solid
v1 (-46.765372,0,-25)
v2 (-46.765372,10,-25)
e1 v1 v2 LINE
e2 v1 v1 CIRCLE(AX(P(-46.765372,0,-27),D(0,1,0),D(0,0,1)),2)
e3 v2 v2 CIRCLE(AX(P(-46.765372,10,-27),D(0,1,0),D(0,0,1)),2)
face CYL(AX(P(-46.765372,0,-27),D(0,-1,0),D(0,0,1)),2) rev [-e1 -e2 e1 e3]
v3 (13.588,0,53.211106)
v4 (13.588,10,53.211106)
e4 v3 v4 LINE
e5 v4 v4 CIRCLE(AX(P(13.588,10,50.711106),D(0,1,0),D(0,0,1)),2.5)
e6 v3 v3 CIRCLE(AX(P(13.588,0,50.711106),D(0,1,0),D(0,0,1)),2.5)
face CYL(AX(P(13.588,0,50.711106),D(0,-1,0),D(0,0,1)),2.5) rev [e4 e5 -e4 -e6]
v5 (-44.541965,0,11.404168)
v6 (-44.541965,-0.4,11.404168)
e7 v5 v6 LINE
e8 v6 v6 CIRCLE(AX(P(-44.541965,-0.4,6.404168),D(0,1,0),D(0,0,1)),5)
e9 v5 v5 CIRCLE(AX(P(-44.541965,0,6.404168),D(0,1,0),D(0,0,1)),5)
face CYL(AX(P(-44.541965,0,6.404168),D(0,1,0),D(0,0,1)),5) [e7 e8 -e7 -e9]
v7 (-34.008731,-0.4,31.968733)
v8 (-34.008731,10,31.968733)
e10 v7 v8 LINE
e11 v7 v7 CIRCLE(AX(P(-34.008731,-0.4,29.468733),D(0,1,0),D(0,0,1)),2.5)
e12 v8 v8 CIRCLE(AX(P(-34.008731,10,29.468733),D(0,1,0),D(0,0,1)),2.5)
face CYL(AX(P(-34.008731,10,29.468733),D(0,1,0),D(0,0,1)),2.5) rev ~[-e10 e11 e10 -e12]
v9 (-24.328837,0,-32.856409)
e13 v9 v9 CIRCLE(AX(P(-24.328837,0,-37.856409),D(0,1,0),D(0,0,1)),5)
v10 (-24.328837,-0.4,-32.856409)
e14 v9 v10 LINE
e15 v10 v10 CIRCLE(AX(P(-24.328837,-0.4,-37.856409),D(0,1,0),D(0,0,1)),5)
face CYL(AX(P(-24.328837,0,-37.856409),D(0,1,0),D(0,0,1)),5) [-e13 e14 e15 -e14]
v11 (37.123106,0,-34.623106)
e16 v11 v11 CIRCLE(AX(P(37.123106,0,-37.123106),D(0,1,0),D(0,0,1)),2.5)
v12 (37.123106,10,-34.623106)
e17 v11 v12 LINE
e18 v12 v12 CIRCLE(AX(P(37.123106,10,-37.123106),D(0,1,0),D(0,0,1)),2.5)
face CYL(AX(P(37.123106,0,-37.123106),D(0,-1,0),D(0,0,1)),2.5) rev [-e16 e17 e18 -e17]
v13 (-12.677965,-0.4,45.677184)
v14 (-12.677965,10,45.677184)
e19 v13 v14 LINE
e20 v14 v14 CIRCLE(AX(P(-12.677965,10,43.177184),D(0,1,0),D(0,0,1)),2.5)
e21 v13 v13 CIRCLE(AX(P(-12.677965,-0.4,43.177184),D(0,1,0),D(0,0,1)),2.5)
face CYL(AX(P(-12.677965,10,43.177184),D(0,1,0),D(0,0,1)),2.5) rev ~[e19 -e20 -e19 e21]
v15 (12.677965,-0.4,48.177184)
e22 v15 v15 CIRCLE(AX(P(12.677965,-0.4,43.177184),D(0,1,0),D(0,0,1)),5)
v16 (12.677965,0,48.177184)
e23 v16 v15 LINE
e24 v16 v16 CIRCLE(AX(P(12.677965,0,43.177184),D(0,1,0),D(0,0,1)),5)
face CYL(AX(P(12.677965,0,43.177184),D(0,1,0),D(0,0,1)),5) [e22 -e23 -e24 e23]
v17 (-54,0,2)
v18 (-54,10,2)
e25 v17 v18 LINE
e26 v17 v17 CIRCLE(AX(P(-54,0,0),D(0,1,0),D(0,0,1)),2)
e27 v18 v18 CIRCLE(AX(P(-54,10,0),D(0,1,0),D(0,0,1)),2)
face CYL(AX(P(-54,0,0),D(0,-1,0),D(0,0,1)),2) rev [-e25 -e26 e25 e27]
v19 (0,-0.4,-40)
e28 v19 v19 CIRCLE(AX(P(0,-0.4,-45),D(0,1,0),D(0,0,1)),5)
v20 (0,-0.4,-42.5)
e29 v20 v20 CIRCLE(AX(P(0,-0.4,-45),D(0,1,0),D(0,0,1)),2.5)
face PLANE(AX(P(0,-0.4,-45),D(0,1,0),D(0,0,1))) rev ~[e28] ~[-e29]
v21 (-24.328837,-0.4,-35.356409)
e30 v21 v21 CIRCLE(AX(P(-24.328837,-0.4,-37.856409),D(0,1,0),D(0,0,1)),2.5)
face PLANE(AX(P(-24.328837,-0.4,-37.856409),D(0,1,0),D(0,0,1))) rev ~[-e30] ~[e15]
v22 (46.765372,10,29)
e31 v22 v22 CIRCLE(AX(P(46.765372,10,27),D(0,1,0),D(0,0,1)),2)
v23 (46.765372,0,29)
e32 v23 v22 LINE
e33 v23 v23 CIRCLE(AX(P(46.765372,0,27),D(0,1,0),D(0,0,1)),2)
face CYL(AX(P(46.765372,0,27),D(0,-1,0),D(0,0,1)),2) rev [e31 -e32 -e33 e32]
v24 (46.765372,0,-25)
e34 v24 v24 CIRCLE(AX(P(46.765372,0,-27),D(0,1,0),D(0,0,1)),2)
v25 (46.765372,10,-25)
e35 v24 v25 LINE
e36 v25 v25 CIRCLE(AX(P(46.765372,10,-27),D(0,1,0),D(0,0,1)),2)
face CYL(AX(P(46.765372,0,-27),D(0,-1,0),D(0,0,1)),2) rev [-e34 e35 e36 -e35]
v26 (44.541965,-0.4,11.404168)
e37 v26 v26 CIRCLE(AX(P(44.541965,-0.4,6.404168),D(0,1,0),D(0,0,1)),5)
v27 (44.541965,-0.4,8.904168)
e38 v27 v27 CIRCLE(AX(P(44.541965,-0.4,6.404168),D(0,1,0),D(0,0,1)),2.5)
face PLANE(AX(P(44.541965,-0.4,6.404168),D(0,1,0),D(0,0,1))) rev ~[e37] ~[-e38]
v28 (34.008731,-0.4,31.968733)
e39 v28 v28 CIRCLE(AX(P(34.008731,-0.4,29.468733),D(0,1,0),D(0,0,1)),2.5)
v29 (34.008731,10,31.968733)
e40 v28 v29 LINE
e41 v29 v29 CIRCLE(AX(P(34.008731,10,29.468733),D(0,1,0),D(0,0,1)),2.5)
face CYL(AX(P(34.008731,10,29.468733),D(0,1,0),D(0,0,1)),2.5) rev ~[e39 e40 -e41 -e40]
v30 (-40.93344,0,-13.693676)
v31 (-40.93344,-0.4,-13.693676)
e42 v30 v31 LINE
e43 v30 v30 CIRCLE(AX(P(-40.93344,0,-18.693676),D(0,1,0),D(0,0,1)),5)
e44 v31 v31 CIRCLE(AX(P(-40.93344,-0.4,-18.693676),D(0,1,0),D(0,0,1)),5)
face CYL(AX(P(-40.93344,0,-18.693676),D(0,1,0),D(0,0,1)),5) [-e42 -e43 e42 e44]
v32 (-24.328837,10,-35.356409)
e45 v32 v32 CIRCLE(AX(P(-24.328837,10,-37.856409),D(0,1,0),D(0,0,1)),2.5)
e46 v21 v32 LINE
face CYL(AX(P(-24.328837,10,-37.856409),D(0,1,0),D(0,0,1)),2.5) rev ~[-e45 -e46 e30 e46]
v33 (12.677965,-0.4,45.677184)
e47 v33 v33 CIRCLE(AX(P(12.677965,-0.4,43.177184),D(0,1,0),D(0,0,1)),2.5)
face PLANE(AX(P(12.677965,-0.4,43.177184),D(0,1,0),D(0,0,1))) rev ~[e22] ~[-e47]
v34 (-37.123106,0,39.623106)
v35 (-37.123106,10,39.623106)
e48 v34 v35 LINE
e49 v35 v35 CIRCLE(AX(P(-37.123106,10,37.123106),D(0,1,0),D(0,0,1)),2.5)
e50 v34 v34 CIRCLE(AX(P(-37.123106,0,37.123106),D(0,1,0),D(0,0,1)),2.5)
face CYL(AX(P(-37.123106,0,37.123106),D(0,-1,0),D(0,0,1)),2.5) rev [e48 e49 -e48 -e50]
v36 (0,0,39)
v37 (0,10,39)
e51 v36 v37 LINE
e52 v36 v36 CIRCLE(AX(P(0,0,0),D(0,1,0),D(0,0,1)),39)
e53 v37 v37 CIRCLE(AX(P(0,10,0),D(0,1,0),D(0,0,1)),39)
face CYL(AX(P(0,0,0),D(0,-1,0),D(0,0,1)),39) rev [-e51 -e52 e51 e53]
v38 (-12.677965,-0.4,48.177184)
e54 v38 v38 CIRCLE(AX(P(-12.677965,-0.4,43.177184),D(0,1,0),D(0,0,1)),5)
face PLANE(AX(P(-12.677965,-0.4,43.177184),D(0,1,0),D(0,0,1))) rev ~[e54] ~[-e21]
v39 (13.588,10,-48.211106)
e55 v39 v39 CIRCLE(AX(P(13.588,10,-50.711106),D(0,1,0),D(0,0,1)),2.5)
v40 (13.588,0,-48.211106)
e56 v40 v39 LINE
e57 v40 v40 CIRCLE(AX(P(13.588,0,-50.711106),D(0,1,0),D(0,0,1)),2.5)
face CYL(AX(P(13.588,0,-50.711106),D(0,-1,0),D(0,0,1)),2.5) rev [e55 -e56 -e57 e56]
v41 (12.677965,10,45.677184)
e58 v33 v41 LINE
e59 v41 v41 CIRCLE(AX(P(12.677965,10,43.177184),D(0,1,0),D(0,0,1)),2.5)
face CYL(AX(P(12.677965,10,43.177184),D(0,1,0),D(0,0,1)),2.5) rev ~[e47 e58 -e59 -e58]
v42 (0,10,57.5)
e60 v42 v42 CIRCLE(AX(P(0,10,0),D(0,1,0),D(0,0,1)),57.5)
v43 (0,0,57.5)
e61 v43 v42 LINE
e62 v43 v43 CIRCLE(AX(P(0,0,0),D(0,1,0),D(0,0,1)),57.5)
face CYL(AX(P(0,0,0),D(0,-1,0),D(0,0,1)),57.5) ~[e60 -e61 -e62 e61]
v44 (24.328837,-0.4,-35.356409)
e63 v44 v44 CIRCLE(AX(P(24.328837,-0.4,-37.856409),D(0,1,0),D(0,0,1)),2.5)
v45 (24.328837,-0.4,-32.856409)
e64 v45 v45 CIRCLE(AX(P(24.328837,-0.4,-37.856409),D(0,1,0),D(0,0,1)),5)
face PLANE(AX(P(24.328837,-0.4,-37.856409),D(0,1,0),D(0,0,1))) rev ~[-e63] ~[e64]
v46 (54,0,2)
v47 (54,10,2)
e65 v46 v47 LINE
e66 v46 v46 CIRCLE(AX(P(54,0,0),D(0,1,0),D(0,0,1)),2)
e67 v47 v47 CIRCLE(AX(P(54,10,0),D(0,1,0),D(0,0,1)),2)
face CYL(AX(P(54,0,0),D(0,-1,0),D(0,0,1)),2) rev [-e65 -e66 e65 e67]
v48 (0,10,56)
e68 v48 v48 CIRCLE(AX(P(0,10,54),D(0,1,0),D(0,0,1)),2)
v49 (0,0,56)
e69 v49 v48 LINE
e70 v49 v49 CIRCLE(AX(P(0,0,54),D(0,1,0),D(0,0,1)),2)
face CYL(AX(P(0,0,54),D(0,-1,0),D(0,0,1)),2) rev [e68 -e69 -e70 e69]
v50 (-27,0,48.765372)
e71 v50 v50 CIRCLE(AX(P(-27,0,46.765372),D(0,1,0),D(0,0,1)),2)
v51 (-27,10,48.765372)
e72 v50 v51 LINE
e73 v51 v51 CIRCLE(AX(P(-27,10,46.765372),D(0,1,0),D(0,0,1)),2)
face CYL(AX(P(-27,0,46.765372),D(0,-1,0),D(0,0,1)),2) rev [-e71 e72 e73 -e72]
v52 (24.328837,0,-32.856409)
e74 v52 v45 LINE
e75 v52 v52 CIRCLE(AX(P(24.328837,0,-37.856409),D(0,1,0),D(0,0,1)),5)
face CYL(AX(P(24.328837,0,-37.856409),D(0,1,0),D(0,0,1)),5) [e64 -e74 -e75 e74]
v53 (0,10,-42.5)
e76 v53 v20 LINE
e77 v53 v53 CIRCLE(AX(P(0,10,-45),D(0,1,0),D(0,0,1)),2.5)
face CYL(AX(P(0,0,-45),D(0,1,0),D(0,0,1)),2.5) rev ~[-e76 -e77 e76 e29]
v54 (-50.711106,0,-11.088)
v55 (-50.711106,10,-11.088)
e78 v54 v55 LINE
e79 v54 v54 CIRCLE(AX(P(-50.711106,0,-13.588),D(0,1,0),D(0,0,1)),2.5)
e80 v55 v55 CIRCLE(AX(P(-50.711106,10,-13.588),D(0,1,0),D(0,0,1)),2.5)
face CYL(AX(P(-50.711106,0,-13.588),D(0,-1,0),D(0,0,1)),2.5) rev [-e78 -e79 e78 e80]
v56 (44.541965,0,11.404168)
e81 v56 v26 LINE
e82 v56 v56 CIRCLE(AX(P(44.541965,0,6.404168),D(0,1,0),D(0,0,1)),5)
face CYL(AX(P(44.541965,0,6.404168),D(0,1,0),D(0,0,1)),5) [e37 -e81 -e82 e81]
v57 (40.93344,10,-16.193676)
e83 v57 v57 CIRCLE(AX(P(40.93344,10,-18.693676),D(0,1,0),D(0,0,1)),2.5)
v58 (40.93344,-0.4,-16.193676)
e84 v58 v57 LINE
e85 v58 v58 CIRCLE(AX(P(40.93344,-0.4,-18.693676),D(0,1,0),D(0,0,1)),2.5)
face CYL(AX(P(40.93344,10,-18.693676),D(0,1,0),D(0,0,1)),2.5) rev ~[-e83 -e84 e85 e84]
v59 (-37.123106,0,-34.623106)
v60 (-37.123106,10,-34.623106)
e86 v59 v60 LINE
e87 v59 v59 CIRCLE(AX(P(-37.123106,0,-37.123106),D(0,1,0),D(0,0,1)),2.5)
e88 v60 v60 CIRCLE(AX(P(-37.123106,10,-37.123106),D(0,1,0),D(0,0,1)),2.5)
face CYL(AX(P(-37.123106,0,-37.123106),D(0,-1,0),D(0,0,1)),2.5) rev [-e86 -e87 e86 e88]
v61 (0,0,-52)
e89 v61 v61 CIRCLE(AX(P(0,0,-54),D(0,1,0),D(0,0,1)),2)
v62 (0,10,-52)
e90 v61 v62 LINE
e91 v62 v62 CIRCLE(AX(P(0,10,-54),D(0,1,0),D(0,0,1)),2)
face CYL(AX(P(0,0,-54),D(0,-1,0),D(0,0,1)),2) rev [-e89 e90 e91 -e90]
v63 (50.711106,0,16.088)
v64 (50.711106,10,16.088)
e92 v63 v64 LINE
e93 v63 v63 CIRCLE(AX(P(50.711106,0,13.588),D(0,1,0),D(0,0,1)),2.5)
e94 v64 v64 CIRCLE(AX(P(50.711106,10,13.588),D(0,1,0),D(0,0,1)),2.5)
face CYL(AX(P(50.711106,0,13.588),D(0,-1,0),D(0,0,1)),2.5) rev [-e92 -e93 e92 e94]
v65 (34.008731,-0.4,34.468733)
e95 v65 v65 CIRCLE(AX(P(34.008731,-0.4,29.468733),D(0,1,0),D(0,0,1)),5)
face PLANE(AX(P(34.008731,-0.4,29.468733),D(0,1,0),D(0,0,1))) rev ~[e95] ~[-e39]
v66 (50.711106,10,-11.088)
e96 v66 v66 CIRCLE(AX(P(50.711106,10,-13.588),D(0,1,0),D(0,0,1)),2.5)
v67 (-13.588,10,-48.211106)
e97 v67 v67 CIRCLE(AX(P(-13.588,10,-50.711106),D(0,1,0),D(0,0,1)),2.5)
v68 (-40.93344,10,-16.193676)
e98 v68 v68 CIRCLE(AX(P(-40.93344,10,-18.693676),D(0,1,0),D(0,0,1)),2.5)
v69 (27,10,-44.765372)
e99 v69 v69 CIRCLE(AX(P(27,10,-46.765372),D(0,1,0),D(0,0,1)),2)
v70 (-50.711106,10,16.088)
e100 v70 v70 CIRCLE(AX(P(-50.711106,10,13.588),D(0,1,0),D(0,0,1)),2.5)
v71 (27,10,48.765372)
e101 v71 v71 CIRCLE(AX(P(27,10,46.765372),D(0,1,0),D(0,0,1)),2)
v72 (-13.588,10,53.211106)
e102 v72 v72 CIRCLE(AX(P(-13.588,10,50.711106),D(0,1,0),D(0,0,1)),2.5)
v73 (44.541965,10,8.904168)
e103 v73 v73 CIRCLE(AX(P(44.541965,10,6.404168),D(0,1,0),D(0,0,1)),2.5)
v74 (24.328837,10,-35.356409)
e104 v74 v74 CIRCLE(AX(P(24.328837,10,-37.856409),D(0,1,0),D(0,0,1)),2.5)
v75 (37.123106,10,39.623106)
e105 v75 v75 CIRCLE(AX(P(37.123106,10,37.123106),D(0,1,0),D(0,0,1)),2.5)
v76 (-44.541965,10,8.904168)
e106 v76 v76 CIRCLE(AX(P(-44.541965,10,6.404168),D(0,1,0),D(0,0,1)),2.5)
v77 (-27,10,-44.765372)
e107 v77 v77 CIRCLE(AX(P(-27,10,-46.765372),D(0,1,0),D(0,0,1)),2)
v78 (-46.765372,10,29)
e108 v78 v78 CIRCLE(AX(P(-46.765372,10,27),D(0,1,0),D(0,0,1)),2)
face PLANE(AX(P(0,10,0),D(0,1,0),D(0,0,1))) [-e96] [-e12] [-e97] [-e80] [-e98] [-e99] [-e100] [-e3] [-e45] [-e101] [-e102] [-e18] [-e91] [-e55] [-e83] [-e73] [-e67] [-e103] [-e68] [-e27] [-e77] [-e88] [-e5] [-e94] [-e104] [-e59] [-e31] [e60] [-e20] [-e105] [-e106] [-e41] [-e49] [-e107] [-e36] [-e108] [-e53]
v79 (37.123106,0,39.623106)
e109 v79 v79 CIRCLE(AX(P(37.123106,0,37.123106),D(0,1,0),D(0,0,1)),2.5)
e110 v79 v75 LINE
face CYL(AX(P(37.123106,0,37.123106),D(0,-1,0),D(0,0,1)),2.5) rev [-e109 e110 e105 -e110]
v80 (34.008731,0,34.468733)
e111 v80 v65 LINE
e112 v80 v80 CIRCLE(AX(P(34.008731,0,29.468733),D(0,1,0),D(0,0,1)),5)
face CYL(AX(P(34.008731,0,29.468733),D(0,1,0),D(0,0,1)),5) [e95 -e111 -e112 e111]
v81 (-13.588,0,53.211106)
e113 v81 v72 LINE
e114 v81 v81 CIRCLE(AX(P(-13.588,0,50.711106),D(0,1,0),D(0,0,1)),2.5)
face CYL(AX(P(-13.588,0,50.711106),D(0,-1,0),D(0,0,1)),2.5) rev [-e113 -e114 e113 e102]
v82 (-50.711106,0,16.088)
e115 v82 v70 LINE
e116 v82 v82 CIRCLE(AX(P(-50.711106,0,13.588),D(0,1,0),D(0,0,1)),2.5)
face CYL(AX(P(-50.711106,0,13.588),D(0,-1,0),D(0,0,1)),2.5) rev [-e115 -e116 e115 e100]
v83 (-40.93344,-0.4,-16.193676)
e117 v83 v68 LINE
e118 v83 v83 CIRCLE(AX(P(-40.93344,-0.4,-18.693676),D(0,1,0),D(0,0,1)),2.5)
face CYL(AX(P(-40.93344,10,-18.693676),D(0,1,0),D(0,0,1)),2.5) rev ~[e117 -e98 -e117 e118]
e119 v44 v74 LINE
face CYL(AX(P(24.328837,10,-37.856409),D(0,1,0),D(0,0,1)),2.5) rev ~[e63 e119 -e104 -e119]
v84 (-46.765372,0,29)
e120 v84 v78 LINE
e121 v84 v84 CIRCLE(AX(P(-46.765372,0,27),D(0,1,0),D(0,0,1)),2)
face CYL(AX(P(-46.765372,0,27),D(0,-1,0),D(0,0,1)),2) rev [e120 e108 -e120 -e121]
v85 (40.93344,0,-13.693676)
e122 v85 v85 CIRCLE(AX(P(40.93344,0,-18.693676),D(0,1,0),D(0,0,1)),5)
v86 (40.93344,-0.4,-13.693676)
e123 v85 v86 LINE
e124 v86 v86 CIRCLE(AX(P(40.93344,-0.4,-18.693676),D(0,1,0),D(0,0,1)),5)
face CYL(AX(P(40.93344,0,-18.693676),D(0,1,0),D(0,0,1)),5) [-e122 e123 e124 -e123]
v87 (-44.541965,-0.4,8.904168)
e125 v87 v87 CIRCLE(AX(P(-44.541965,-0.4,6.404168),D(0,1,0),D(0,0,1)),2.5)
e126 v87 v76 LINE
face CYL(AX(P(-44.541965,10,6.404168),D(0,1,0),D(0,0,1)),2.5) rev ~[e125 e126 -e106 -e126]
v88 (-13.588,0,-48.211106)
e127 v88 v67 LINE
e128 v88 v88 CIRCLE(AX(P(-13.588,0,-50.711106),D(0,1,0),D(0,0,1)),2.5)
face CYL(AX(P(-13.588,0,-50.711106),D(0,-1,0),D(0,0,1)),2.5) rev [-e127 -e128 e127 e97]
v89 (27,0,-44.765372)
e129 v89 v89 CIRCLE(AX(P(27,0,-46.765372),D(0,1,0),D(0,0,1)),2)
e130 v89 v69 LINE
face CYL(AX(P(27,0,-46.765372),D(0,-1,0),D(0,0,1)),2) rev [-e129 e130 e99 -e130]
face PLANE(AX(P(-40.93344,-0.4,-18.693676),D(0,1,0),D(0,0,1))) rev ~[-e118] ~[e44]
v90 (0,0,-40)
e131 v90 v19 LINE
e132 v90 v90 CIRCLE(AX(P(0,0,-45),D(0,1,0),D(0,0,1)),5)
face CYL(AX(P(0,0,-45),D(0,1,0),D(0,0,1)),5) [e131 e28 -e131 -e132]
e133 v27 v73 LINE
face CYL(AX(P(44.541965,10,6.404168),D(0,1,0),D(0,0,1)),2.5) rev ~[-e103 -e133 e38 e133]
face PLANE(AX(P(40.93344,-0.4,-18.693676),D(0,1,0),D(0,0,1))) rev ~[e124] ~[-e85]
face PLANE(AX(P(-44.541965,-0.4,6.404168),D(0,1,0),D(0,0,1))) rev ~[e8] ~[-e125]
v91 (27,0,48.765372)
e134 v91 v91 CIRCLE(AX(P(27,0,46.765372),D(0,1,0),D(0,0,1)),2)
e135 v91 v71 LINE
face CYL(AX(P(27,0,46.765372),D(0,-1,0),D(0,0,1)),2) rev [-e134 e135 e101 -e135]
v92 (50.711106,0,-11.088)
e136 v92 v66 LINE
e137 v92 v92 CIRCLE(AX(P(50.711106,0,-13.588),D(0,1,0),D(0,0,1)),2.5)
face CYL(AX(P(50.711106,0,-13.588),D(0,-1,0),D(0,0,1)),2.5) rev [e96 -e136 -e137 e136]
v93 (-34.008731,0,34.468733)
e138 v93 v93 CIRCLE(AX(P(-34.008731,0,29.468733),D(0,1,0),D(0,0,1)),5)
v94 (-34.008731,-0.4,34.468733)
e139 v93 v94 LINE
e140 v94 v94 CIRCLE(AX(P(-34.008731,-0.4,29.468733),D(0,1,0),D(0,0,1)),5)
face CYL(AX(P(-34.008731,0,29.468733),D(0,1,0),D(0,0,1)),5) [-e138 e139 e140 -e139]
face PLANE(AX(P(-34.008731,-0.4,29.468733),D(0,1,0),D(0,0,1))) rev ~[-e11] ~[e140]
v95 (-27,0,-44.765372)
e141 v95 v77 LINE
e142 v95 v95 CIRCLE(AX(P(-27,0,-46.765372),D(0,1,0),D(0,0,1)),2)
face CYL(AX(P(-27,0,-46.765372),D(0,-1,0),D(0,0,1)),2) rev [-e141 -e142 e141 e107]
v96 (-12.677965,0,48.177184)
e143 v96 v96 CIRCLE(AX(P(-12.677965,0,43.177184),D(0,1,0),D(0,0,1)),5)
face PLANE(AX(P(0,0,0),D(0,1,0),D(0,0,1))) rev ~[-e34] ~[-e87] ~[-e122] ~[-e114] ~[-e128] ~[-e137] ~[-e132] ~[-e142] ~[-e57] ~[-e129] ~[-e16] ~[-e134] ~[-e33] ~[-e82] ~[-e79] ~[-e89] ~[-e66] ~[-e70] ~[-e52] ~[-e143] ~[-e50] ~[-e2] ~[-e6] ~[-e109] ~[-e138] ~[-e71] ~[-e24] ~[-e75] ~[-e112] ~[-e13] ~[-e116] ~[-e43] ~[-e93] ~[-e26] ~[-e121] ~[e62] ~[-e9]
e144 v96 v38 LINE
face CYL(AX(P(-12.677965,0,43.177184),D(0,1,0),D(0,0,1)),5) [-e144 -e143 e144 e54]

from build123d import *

# Parameters (mm, degrees)
SKETCH1_R           = 57.5
SKETCH1_R_2         = 39
SKETCH1_R_3         = 2
SKETCH1_R_4         = 2.5
BOSS_EXTRUDE1_DEPTH = 10
SKETCH2_R           = 2.5
CUT_EXTRUDE1_DEPTH  = 10
SKETCH4_R           = 5
SKETCH4_R_2         = 2.5
BOSS_EXTRUDE3_DEPTH = 0.4


with BuildPart() as part:
    # Sketch1 → Boss-Extrude1 (new body)
    with BuildSketch(Plane(origin=(0, 0, 0), x_dir=(1, 0, 0), z_dir=(0, 1, 0))):
        with Locations(Location((0, 0, 0), (0, 0, 270))):
            Circle(SKETCH1_R)
        with Locations(Location((0, 0, 0), (0, 0, 270))):
            Circle(SKETCH1_R_2, mode=Mode.SUBTRACT)
        with Locations(Location((0, 54, 0), (0, 0, 270))):
            Circle(SKETCH1_R_3, mode=Mode.SUBTRACT)
        with Locations(Location((27, 46.765371804, 0), (0, 0, 270))):
            Circle(SKETCH1_R_3, mode=Mode.SUBTRACT)
        with Locations(Location((46.765371804, 27, 0), (0, 0, 270))):
            Circle(SKETCH1_R_3, mode=Mode.SUBTRACT)
        with Locations(Location((54, 0, 0), (0, 0, 270))):
            Circle(SKETCH1_R_3, mode=Mode.SUBTRACT)
        with Locations(Location((46.765371804, -27, 0), (0, 0, 270))):
            Circle(SKETCH1_R_3, mode=Mode.SUBTRACT)
        with Locations(Location((27, -46.765371804, 0), (0, 0, 270))):
            Circle(SKETCH1_R_3, mode=Mode.SUBTRACT)
        with Locations(Location((0, -54, 0), (0, 0, 270))):
            Circle(SKETCH1_R_3, mode=Mode.SUBTRACT)
        with Locations(Location((-27, -46.765371804, 0), (0, 0, 270))):
            Circle(SKETCH1_R_3, mode=Mode.SUBTRACT)
        with Locations(Location((-46.765371804, -27, 0), (0, 0, 270))):
            Circle(SKETCH1_R_3, mode=Mode.SUBTRACT)
        with Locations(Location((-54, 0, 0), (0, 0, 270))):
            Circle(SKETCH1_R_3, mode=Mode.SUBTRACT)
        with Locations(Location((-46.765371804, 27, 0), (0, 0, 270))):
            Circle(SKETCH1_R_3, mode=Mode.SUBTRACT)
        with Locations(Location((-27, 46.765371804, 0), (0, 0, 270))):
            Circle(SKETCH1_R_3, mode=Mode.SUBTRACT)
        with Locations(Location((13.587999868, 50.71110588, 0), (0, 0, 270))):
            Circle(SKETCH1_R_4, mode=Mode.SUBTRACT)
        with Locations(Location((37.123106012, 37.123106012, 0), (0, 0, 270))):
            Circle(SKETCH1_R_4, mode=Mode.SUBTRACT)
        with Locations(Location((50.71110588, 13.587999868, 0), (0, 0, 270))):
            Circle(SKETCH1_R_4, mode=Mode.SUBTRACT)
        with Locations(Location((50.71110588, -13.587999868, 0), (0, 0, 270))):
            Circle(SKETCH1_R_4, mode=Mode.SUBTRACT)
        with Locations(Location((37.123106012, -37.123106012, 0), (0, 0, 270))):
            Circle(SKETCH1_R_4, mode=Mode.SUBTRACT)
        with Locations(Location((13.587999868, -50.71110588, 0), (0, 0, 270))):
            Circle(SKETCH1_R_4, mode=Mode.SUBTRACT)
        with Locations(Location((-13.587999868, -50.71110588, 0), (0, 0, 270))):
            Circle(SKETCH1_R_4, mode=Mode.SUBTRACT)
        with Locations(Location((-37.123106012, -37.123106012, 0), (0, 0, 270))):
            Circle(SKETCH1_R_4, mode=Mode.SUBTRACT)
        with Locations(Location((-50.71110588, -13.587999868, 0), (0, 0, 270))):
            Circle(SKETCH1_R_4, mode=Mode.SUBTRACT)
        with Locations(Location((-50.71110588, 13.587999868, 0), (0, 0, 270))):
            Circle(SKETCH1_R_4, mode=Mode.SUBTRACT)
        with Locations(Location((-37.123106012, 37.123106012, 0), (0, 0, 270))):
            Circle(SKETCH1_R_4, mode=Mode.SUBTRACT)
        with Locations(Location((-13.587999868, 50.71110588, 0), (0, 0, 270))):
            Circle(SKETCH1_R_4, mode=Mode.SUBTRACT)
    extrude(amount=BOSS_EXTRUDE1_DEPTH)

    # Sketch2 → Cut-Extrude1 (cut)
    with BuildSketch(Plane(origin=(0, 10, 0), x_dir=(1, 0, 0), z_dir=(0, 1, 0))):
        with Locations(Location((0, 45, 0), (0, 0, 270))):
            Circle(SKETCH2_R)
        with Locations(Location((24.328836786, 37.856408977, 0), (0, 0, 270))):
            Circle(SKETCH2_R)
        with Locations(Location((40.933439791, 18.693675585, 0), (0, 0, 270))):
            Circle(SKETCH2_R)
        with Locations(Location((44.541964885, -6.404167722, 0), (0, 0, 270))):
            Circle(SKETCH2_R)
        with Locations(Location((34.008730846, -29.468733028, 0), (0, 0, 270))):
            Circle(SKETCH2_R)
        with Locations(Location((12.677965058, -43.177183813, 0), (0, 0, 270))):
            Circle(SKETCH2_R)
        with Locations(Location((-12.677965058, -43.177183813, 0), (0, 0, 270))):
            Circle(SKETCH2_R)
        with Locations(Location((-34.008730846, -29.468733028, 0), (0, 0, 270))):
            Circle(SKETCH2_R)
        with Locations(Location((-44.541964885, -6.404167722, 0), (0, 0, 270))):
            Circle(SKETCH2_R)
        with Locations(Location((-40.933439791, 18.693675585, 0), (0, 0, 270))):
            Circle(SKETCH2_R)
        with Locations(Location((-24.328836786, 37.856408977, 0), (0, 0, 270))):
            Circle(SKETCH2_R)
    extrude(amount=-CUT_EXTRUDE1_DEPTH, mode=Mode.SUBTRACT)

    # Sketch4 → Boss-Extrude3 (add)
    # profile 1 of 11: a face of its own
    with BuildSketch(Plane(origin=(0, 0, 0), x_dir=(1, 0, 0), z_dir=(0, 1, 0))):
        with Locations(Location((0, 45, 0), (0, 0, 270))):
            Circle(SKETCH4_R)
        with Locations(Location((0, 45, 0), (0, 0, 270))):
            Circle(SKETCH4_R_2, mode=Mode.SUBTRACT)
    # profile 2 of 11: a face of its own
    with BuildSketch(Plane(origin=(0, 0, 0), x_dir=(1, 0, 0), z_dir=(0, 1, 0))):
        with Locations(Location((24.328836786, 37.856408977, 0), (0, 0, 270))):
            Circle(SKETCH4_R)
        with Locations(Location((24.328836786, 37.856408977, 0), (0, 0, 270))):
            Circle(SKETCH4_R_2, mode=Mode.SUBTRACT)
    # profile 3 of 11: a face of its own
    with BuildSketch(Plane(origin=(0, 0, 0), x_dir=(1, 0, 0), z_dir=(0, 1, 0))):
        with Locations(Location((40.933439791, 18.693675585, 0), (0, 0, 270))):
            Circle(SKETCH4_R)
        with Locations(Location((40.933439791, 18.693675585, 0), (0, 0, 270))):
            Circle(SKETCH4_R_2, mode=Mode.SUBTRACT)
    # profile 4 of 11: a face of its own
    with BuildSketch(Plane(origin=(0, 0, 0), x_dir=(1, 0, 0), z_dir=(0, 1, 0))):
        with Locations(Location((44.541964885, -6.404167722, 0), (0, 0, 270))):
            Circle(SKETCH4_R)
        with Locations(Location((44.541964885, -6.404167722, 0), (0, 0, 270))):
            Circle(SKETCH4_R_2, mode=Mode.SUBTRACT)
    # profile 5 of 11: a face of its own
    with BuildSketch(Plane(origin=(0, 0, 0), x_dir=(1, 0, 0), z_dir=(0, 1, 0))):
        with Locations(Location((34.008730846, -29.468733028, 0), (0, 0, 270))):
            Circle(SKETCH4_R)
        with Locations(Location((34.008730846, -29.468733028, 0), (0, 0, 270))):
            Circle(SKETCH4_R_2, mode=Mode.SUBTRACT)
    # profile 6 of 11: a face of its own
    with BuildSketch(Plane(origin=(0, 0, 0), x_dir=(1, 0, 0), z_dir=(0, 1, 0))):
        with Locations(Location((12.677965058, -43.177183813, 0), (0, 0, 270))):
            Circle(SKETCH4_R)
        with Locations(Location((12.677965058, -43.177183813, 0), (0, 0, 270))):
            Circle(SKETCH4_R_2, mode=Mode.SUBTRACT)
    # profile 7 of 11: a face of its own
    with BuildSketch(Plane(origin=(0, 0, 0), x_dir=(1, 0, 0), z_dir=(0, 1, 0))):
        with Locations(Location((-12.677965058, -43.177183813, 0), (0, 0, 270))):
            Circle(SKETCH4_R)
        with Locations(Location((-12.677965058, -43.177183813, 0), (0, 0, 270))):
            Circle(SKETCH4_R_2, mode=Mode.SUBTRACT)
    # profile 8 of 11: a face of its own
    with BuildSketch(Plane(origin=(0, 0, 0), x_dir=(1, 0, 0), z_dir=(0, 1, 0))):
        with Locations(Location((-34.008730846, -29.468733028, 0), (0, 0, 270))):
            Circle(SKETCH4_R)
        with Locations(Location((-34.008730846, -29.468733028, 0), (0, 0, 270))):
            Circle(SKETCH4_R_2, mode=Mode.SUBTRACT)
    # profile 9 of 11: a face of its own
    with BuildSketch(Plane(origin=(0, 0, 0), x_dir=(1, 0, 0), z_dir=(0, 1, 0))):
        with Locations(Location((-44.541964885, -6.404167722, 0), (0, 0, 270))):
            Circle(SKETCH4_R)
        with Locations(Location((-44.541964885, -6.404167722, 0), (0, 0, 270))):
            Circle(SKETCH4_R_2, mode=Mode.SUBTRACT)
    # profile 10 of 11: a face of its own
    with BuildSketch(Plane(origin=(0, 0, 0), x_dir=(1, 0, 0), z_dir=(0, 1, 0))):
        with Locations(Location((-40.933439791, 18.693675585, 0), (0, 0, 270))):
            Circle(SKETCH4_R)
        with Locations(Location((-40.933439791, 18.693675585, 0), (0, 0, 270))):
            Circle(SKETCH4_R_2, mode=Mode.SUBTRACT)
    # profile 11 of 11: a face of its own
    with BuildSketch(Plane(origin=(0, 0, 0), x_dir=(1, 0, 0), z_dir=(0, 1, 0))):
        with Locations(Location((-24.328836786, 37.856408977, 0), (0, 0, 270))):
            Circle(SKETCH4_R)
        with Locations(Location((-24.328836786, 37.856408977, 0), (0, 0, 270))):
            Circle(SKETCH4_R_2, mode=Mode.SUBTRACT)
    extrude(amount=-BOSS_EXTRUDE3_DEPTH)


solid = part.part
